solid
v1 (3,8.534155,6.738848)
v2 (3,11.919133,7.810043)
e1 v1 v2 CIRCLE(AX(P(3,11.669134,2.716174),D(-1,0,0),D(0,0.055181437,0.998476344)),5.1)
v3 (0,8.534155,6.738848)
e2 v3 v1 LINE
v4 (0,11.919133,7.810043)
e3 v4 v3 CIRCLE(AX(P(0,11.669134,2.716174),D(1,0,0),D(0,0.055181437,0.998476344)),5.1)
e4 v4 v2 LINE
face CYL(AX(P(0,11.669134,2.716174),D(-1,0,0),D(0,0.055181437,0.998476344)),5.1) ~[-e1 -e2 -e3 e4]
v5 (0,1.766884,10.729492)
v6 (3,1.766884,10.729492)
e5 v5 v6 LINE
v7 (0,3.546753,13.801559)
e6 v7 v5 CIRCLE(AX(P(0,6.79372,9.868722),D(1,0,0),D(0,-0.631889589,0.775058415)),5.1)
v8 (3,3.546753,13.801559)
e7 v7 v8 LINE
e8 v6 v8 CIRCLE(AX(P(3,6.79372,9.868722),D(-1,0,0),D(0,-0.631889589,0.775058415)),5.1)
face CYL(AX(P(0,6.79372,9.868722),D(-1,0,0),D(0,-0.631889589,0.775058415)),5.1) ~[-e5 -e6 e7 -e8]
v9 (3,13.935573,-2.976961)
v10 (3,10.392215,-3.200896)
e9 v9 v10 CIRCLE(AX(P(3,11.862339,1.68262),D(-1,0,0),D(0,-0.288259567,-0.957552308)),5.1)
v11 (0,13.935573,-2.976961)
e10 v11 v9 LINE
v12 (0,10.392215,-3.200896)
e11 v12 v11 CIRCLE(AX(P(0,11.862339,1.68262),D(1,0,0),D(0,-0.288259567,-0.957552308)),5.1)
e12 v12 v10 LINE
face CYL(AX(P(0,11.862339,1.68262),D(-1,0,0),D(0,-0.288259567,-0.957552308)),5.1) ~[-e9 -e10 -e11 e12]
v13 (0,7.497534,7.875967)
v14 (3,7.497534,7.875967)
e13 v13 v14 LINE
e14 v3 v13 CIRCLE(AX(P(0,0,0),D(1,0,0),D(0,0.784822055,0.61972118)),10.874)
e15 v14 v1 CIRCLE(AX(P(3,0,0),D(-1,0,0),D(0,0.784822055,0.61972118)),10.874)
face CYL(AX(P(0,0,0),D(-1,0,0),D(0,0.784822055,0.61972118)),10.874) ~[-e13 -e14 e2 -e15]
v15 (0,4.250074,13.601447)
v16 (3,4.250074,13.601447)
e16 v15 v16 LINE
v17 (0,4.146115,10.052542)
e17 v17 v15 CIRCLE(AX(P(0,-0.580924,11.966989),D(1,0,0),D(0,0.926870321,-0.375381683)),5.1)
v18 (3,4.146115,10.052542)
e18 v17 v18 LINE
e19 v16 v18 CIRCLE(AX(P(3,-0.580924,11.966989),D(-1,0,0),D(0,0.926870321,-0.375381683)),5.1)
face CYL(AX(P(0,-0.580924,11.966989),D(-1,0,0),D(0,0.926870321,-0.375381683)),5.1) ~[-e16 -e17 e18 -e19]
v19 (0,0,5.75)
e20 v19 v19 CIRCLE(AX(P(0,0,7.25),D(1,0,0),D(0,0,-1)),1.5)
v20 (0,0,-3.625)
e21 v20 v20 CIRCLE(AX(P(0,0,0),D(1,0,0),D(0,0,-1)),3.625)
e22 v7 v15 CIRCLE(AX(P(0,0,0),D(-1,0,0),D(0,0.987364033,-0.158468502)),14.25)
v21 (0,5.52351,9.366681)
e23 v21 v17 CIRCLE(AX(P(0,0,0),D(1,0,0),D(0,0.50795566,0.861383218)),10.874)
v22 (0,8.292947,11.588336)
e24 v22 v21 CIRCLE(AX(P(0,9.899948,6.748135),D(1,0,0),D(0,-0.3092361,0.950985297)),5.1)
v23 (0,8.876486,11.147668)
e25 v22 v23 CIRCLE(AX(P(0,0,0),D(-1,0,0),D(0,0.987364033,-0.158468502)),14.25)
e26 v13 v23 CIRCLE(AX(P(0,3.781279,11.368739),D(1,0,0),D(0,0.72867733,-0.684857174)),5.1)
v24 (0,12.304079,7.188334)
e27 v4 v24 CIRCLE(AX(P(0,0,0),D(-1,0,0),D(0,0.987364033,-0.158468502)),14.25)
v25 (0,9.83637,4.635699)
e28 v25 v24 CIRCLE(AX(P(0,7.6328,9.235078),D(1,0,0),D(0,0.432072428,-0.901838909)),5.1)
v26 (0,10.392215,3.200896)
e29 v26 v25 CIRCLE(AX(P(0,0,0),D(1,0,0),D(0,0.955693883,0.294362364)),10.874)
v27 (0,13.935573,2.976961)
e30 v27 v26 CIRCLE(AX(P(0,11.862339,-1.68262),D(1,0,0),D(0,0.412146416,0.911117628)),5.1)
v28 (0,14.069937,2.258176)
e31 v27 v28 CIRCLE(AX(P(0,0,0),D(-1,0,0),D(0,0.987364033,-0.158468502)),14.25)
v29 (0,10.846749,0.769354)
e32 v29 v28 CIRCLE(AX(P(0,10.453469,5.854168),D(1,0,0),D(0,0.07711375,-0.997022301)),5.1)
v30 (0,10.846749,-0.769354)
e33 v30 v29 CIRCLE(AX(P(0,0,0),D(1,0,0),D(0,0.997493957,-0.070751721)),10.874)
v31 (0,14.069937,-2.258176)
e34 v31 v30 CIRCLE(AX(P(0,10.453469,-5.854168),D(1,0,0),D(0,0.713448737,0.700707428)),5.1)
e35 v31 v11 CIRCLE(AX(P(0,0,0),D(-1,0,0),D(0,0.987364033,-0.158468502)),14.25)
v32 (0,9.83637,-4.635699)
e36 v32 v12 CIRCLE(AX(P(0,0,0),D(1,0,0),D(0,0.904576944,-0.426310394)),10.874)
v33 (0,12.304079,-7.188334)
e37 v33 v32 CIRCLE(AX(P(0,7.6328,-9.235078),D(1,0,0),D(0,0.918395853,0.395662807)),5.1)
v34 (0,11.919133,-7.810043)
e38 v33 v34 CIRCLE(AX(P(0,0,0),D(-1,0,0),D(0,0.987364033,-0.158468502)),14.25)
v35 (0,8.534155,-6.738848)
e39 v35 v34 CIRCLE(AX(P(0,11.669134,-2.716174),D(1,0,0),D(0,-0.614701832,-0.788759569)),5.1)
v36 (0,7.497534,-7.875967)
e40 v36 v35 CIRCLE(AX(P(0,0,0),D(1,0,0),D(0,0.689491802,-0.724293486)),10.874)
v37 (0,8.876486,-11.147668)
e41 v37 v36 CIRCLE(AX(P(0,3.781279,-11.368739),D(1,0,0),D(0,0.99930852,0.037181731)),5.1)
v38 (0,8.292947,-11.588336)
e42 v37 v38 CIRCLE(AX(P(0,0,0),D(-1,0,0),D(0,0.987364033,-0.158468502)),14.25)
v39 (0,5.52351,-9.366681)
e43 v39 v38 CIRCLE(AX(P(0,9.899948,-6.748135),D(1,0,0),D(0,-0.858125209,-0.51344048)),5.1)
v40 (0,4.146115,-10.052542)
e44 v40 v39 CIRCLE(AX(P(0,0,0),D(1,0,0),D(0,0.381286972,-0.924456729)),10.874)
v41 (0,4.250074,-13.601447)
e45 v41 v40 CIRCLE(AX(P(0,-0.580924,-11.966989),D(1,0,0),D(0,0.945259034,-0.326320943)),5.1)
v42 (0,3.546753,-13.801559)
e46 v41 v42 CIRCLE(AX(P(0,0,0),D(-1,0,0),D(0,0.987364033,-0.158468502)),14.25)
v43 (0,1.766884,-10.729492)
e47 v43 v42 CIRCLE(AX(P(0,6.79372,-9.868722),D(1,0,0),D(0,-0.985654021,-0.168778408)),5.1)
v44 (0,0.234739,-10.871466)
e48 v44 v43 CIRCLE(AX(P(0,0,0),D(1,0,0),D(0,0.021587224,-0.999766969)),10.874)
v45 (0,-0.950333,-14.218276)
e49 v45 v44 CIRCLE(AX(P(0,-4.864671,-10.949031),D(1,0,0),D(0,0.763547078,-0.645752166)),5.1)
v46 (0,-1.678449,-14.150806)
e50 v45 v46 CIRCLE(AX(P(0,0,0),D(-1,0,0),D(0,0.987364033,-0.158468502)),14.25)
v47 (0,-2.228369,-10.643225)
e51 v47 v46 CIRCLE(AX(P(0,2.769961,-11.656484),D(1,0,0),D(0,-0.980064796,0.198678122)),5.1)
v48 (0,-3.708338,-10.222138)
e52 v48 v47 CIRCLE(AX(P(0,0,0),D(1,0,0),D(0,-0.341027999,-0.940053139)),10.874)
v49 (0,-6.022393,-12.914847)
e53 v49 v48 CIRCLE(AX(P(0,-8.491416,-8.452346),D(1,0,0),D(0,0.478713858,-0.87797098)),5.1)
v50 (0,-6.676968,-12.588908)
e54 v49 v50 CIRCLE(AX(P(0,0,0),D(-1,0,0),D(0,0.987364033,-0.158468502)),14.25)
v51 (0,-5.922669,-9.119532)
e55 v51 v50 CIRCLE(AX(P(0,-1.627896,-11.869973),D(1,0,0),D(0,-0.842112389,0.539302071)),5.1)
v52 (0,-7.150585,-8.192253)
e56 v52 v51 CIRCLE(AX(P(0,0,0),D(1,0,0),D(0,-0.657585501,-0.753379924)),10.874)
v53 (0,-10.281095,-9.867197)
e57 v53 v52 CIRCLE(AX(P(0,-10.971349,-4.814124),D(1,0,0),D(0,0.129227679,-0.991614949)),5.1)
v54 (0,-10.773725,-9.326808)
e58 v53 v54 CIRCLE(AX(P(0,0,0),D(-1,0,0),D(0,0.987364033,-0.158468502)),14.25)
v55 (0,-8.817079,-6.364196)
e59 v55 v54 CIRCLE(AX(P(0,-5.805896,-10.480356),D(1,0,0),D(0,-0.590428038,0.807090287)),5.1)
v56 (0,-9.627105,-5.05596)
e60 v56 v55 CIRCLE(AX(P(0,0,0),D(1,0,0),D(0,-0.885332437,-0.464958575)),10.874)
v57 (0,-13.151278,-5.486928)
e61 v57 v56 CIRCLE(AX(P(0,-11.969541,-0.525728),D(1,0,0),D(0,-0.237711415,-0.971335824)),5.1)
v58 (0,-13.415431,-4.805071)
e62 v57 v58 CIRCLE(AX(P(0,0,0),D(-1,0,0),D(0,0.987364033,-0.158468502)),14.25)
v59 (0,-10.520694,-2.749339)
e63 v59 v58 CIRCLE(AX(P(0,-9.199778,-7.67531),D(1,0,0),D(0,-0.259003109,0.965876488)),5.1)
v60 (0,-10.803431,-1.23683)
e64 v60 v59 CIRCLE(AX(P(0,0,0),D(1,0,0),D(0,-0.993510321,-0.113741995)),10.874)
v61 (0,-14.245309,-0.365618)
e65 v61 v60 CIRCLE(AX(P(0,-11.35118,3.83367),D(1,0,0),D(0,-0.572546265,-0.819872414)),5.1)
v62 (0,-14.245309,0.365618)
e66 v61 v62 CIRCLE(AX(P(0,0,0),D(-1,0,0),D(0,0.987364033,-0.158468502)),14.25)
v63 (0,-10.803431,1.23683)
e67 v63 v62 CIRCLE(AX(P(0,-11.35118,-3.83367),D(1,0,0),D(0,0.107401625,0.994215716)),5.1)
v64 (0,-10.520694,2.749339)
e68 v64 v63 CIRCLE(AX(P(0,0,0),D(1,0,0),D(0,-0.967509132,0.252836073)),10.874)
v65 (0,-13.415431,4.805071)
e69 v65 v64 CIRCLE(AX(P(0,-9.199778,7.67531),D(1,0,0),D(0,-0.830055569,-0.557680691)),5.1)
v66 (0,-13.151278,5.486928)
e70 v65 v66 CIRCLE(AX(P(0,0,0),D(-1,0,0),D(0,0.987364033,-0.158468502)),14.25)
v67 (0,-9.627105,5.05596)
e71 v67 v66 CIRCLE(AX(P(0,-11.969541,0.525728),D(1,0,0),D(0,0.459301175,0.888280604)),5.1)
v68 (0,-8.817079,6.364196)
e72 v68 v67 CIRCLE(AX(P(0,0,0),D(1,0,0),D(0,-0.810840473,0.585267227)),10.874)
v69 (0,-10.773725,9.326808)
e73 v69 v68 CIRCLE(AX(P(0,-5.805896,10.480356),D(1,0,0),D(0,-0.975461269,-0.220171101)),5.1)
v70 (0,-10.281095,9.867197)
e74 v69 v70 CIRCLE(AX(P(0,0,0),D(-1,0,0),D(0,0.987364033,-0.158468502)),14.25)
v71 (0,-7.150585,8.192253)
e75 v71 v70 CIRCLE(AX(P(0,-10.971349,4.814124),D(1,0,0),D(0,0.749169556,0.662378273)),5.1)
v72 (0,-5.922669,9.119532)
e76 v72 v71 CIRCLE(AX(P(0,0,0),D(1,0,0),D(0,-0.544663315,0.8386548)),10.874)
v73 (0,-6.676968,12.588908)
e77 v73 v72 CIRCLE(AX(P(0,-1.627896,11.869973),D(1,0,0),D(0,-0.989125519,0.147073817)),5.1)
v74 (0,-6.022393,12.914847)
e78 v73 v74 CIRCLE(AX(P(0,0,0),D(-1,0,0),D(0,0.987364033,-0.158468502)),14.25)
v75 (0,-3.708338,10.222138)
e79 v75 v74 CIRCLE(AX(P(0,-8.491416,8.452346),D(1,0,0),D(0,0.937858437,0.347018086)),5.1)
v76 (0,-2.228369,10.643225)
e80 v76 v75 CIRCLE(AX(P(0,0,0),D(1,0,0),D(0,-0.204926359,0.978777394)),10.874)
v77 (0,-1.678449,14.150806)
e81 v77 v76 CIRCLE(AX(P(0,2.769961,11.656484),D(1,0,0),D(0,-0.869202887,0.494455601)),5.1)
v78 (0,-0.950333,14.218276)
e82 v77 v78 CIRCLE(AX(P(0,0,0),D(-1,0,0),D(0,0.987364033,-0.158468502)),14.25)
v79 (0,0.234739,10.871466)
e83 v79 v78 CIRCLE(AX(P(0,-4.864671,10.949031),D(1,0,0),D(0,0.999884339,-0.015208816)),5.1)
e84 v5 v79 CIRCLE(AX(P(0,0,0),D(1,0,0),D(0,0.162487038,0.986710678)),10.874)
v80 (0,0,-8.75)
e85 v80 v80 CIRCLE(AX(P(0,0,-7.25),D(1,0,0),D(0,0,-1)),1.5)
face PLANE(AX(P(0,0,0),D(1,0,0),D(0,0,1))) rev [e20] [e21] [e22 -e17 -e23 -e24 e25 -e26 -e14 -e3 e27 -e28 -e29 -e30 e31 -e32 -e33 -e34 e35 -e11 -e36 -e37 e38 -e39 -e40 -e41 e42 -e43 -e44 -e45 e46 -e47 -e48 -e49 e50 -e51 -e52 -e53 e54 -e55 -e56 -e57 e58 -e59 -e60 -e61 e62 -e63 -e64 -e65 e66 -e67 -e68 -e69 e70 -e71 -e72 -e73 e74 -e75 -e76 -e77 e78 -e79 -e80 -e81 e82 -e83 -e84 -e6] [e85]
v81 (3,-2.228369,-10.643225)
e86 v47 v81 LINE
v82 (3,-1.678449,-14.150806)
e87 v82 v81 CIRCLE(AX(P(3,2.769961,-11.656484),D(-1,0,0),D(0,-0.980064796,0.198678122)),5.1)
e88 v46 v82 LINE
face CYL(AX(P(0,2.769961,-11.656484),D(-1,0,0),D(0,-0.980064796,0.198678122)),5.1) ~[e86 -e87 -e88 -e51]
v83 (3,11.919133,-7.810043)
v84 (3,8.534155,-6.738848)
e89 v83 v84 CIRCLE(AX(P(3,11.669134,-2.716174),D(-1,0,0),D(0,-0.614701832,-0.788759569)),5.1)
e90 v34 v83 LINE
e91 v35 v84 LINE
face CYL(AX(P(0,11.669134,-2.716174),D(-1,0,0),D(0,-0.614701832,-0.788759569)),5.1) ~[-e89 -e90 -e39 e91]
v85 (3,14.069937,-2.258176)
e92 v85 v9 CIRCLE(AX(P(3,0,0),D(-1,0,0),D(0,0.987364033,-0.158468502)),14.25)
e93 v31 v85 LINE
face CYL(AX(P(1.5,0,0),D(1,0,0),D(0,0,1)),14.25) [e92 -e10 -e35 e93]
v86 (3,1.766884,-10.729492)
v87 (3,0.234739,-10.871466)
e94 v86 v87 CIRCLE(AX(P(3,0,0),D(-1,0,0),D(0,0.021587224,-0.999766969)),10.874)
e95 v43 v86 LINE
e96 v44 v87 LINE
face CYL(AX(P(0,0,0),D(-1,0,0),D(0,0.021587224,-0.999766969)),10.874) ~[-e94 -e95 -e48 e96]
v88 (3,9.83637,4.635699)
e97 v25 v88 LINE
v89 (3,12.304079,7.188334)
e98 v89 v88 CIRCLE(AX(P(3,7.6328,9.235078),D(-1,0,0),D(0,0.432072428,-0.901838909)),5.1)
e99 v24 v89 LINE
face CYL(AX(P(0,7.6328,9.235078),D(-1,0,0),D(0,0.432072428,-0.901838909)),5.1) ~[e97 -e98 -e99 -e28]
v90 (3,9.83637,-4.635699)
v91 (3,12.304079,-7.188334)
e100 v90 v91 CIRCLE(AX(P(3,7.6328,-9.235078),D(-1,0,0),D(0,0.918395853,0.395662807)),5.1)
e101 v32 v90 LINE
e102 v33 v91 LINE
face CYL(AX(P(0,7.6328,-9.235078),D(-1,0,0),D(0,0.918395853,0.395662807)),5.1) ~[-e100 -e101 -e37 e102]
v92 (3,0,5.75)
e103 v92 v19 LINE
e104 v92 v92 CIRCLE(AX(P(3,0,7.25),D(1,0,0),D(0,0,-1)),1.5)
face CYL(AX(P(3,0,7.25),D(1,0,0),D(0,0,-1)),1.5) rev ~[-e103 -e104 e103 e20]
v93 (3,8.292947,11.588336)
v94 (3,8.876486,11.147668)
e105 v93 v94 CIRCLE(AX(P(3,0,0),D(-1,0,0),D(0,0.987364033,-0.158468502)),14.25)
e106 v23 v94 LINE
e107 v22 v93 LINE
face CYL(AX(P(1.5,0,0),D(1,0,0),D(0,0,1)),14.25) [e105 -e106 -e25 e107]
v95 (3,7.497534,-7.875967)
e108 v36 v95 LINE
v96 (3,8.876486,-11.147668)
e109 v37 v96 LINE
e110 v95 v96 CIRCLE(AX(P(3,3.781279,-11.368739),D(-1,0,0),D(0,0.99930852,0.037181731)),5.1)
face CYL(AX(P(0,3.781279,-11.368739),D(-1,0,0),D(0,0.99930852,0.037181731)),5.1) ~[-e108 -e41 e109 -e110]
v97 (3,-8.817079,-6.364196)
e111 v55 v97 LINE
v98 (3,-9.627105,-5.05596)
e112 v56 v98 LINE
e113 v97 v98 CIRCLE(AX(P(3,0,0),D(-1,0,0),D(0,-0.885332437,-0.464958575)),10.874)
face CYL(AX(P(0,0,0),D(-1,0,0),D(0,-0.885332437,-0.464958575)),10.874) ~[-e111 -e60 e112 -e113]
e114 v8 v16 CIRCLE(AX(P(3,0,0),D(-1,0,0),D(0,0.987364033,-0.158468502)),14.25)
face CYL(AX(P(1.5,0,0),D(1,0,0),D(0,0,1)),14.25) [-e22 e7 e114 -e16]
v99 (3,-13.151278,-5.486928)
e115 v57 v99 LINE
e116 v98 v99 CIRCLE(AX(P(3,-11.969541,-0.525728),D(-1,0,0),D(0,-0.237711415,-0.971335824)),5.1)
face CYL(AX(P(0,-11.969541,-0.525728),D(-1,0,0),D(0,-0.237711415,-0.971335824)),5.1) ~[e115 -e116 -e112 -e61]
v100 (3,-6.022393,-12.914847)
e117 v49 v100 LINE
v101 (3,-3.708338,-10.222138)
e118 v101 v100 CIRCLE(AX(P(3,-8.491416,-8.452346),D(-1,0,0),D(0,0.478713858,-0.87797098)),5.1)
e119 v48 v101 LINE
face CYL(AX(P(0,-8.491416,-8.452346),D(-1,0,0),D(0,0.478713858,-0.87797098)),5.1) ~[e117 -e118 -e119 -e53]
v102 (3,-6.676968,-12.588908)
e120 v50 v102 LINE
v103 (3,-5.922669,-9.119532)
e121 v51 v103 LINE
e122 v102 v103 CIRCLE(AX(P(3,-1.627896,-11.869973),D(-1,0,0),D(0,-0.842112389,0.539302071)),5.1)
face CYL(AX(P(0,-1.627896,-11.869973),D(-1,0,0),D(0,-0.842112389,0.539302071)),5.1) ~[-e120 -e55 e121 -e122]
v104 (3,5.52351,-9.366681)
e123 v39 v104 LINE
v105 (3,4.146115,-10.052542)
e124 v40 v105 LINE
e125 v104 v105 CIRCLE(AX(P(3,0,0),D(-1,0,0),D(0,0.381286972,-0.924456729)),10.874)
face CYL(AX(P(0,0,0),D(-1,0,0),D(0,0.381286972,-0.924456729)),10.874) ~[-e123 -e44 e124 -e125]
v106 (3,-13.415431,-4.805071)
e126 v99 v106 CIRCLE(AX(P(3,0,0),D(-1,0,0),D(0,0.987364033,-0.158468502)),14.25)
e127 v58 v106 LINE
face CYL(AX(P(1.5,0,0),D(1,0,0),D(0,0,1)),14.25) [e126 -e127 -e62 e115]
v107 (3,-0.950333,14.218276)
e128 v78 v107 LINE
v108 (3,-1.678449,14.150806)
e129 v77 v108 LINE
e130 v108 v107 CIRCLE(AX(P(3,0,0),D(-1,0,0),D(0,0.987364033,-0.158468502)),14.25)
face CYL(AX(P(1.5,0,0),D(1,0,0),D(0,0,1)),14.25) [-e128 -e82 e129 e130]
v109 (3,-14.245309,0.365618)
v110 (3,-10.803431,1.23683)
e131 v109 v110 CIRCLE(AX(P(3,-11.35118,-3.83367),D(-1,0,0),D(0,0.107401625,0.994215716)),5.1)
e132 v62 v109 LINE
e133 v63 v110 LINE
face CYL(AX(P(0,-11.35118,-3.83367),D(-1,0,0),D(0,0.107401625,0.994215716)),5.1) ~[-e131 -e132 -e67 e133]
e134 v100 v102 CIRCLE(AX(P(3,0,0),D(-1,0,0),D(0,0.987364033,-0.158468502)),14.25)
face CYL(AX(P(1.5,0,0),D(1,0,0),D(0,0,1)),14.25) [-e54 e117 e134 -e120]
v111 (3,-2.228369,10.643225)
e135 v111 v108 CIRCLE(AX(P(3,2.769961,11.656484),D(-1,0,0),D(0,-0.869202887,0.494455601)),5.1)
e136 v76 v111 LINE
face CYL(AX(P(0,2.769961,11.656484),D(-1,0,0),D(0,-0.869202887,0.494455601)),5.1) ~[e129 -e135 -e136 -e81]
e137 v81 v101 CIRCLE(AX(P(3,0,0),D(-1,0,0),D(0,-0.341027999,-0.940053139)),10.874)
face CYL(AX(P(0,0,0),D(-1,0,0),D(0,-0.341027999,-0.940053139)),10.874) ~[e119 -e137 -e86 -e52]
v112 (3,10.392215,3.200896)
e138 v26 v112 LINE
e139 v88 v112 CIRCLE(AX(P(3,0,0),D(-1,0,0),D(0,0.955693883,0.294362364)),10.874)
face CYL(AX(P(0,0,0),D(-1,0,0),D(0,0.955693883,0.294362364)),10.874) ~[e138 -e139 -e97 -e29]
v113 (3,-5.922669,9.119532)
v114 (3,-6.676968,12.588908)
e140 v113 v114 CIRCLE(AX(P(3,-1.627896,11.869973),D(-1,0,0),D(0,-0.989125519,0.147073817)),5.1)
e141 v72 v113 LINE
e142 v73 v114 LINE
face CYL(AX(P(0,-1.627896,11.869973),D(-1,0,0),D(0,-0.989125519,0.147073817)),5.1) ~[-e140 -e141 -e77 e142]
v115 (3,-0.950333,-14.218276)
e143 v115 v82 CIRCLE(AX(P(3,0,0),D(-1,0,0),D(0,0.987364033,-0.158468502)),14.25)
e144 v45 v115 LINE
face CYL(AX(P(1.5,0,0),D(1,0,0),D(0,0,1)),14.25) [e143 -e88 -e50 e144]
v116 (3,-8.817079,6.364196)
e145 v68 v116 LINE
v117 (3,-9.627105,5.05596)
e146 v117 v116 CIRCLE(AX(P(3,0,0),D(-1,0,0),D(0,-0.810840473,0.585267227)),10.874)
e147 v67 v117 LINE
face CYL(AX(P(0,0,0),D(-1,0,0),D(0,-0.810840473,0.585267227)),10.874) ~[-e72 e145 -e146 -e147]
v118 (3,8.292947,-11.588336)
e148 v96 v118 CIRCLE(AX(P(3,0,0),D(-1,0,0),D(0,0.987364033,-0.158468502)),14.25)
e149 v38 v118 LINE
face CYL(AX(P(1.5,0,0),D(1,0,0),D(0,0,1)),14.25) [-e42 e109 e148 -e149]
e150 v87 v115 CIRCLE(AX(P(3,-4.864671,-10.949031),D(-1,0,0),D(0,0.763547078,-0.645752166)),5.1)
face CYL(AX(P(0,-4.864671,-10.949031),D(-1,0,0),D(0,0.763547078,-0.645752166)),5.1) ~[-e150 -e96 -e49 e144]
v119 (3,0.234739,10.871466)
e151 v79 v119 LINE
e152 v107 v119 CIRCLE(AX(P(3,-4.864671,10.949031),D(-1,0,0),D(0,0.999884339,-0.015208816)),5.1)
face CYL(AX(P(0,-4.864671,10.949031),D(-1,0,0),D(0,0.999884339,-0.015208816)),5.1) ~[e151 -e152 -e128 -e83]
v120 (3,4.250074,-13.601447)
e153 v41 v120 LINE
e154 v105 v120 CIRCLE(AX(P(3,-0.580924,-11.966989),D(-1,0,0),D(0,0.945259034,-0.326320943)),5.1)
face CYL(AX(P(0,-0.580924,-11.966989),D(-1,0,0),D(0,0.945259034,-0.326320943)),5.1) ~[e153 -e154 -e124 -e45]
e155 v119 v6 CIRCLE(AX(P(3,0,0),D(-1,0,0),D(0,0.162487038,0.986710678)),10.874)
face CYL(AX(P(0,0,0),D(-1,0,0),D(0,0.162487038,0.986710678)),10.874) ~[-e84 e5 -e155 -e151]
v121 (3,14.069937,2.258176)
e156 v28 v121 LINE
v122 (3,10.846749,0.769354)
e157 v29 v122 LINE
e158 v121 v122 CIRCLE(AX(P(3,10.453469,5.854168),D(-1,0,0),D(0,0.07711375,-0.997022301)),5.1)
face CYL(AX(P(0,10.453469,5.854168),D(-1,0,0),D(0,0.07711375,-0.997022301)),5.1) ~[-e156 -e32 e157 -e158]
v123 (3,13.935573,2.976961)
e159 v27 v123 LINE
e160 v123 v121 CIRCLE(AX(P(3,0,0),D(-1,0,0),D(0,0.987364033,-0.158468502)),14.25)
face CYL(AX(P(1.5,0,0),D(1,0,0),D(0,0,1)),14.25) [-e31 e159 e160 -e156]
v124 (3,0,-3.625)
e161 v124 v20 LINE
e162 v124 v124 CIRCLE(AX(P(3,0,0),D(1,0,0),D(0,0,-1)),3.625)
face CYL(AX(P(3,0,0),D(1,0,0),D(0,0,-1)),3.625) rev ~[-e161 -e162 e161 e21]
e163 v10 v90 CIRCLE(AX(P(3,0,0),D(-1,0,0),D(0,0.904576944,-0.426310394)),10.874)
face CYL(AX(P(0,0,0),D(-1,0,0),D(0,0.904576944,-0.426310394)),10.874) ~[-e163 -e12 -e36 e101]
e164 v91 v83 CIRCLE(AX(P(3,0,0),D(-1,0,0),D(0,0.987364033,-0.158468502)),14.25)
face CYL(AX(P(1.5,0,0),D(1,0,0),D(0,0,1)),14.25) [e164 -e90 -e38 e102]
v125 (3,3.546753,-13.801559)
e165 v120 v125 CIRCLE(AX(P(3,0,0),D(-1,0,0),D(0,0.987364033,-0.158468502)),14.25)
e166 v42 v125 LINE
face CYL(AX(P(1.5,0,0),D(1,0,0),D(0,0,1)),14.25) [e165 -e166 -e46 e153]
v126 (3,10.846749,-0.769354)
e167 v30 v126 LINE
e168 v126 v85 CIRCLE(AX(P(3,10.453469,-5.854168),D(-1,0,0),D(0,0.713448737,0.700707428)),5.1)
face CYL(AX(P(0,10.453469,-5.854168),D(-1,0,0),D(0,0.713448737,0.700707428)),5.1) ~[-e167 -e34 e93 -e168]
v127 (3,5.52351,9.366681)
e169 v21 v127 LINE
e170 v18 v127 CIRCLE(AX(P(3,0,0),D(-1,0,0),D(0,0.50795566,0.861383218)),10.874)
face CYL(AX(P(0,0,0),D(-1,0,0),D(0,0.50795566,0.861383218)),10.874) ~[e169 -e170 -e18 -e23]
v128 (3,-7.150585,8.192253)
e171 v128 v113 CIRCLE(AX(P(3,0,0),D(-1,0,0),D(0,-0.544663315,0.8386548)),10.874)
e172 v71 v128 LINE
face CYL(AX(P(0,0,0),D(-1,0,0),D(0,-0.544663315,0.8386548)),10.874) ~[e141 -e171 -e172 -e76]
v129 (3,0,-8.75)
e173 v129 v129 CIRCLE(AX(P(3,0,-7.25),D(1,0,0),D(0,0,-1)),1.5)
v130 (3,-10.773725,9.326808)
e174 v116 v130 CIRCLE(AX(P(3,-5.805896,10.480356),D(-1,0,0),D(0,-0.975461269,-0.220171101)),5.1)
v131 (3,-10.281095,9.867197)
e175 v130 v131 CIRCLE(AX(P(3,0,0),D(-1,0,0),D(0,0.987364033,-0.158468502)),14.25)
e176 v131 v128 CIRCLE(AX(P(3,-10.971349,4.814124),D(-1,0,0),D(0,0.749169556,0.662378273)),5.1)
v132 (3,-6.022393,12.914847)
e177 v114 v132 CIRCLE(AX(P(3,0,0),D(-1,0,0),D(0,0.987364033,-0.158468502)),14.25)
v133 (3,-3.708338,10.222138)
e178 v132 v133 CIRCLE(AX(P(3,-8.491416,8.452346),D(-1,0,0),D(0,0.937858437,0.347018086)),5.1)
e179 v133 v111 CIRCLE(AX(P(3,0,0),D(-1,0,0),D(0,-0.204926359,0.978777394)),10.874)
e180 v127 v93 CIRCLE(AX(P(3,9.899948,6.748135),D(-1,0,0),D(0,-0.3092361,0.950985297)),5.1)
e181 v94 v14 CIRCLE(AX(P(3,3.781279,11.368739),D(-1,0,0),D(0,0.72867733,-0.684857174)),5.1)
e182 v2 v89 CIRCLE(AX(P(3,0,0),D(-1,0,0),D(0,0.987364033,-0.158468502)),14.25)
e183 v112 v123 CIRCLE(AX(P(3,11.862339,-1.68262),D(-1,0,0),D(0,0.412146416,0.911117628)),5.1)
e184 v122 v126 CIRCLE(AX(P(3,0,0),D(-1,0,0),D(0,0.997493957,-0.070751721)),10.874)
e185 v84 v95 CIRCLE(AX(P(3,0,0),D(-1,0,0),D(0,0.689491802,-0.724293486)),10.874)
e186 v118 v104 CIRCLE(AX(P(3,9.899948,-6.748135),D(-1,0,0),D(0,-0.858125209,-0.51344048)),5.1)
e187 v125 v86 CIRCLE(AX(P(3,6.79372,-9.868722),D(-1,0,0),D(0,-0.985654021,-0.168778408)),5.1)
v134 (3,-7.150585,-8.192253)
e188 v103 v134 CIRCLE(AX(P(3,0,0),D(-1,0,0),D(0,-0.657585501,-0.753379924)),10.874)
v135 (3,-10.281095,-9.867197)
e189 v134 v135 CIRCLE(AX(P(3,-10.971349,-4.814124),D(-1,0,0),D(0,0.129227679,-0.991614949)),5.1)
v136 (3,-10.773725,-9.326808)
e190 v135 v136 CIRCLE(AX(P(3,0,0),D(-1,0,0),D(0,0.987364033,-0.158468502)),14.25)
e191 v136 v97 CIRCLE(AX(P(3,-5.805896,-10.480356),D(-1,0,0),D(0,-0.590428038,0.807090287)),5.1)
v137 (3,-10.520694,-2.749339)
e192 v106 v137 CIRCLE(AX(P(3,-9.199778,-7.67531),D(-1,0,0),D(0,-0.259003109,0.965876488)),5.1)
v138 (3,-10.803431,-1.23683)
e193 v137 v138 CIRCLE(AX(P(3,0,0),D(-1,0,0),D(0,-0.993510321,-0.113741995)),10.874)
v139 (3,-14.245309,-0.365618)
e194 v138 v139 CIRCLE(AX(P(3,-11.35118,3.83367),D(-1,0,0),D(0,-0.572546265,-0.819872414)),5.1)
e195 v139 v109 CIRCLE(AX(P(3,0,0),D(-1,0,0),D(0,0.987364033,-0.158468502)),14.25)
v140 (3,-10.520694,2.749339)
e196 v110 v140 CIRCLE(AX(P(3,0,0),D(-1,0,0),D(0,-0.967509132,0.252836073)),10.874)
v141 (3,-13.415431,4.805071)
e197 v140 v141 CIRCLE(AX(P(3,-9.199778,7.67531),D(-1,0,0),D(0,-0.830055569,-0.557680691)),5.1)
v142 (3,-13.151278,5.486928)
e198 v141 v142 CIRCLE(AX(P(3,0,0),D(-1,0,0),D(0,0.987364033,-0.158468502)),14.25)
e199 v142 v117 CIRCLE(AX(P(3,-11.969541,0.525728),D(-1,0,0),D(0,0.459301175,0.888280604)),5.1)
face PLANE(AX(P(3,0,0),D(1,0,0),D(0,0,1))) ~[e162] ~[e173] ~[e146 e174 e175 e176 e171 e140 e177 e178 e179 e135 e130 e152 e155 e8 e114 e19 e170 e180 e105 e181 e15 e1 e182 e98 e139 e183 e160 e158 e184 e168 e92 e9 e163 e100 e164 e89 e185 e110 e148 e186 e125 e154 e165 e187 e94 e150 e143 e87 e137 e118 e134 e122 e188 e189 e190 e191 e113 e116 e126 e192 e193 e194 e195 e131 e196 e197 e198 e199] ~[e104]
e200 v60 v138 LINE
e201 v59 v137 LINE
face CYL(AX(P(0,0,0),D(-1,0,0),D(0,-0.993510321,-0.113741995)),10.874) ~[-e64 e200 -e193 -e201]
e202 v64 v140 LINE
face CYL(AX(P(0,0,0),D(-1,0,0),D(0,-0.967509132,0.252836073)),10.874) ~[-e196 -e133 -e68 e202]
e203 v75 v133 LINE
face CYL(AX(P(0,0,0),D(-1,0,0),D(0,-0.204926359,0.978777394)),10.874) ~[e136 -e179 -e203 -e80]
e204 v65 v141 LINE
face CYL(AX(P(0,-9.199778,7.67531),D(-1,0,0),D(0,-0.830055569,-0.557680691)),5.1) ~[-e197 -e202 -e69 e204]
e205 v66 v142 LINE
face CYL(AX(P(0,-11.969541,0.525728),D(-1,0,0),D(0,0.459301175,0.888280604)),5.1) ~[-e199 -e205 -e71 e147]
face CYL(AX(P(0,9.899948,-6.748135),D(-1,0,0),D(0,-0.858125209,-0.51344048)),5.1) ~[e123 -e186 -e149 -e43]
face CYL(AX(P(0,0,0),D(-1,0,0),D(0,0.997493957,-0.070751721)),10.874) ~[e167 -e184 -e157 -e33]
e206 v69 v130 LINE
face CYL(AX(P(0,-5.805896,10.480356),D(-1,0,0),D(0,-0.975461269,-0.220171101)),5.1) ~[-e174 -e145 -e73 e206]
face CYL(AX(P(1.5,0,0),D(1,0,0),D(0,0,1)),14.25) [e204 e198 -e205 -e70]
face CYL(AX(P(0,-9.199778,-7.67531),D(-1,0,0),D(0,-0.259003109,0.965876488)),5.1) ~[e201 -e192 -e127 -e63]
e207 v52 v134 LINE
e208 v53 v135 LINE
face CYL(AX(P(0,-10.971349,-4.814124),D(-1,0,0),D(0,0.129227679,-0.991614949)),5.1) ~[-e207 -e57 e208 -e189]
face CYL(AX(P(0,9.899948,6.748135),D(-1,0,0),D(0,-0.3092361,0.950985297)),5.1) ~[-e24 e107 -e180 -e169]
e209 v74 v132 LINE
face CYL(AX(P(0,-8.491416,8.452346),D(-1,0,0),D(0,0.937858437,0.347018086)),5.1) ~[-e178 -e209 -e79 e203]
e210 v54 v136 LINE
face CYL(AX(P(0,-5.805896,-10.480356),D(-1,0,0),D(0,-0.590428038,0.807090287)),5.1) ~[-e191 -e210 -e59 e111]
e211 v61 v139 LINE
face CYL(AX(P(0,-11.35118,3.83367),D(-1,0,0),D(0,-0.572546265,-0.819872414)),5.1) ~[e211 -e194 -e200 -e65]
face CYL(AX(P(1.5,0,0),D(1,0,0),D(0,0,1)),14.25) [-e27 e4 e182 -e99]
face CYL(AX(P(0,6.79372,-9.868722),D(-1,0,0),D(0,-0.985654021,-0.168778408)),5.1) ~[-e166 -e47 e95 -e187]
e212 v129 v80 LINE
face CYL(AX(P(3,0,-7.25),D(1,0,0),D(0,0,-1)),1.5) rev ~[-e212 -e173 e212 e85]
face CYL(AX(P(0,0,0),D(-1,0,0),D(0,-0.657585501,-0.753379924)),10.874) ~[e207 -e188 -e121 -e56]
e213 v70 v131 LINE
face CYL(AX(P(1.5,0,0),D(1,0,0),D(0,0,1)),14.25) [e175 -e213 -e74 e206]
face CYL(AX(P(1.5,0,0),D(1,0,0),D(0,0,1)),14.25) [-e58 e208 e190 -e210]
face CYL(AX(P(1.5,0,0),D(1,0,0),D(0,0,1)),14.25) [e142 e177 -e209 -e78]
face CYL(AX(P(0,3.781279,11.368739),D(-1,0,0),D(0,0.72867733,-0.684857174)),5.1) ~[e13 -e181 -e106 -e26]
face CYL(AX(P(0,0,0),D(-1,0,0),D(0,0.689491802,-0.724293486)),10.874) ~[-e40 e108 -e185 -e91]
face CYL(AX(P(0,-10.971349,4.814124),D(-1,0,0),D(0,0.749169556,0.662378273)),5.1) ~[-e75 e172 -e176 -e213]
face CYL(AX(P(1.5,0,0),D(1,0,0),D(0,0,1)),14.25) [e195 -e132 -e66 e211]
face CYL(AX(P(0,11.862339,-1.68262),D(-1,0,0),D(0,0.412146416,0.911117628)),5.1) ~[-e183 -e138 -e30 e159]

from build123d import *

# Parameters (mm, degrees)
BASPROSKE_W           = 3
BASPROSKE_H           = 14.25
TOOTHCUT_DEPTH        = 21.374616561
TEETHCUTS_COUNT       = 17
TEETHCUTS_ANGLE       = 338.823529412
BORSKE_R              = 2.5
BORE_DEPTH            = 50.0000508
CROQUIS1_R            = 1.5
CROQUIS1_R_2          = 3.625
CORTAR_EXTRUIR1_DEPTH = 10


with BuildPart() as part:
    # BasProSke → Base-Revolve (revolve)
    with BuildSketch(Plane(origin=(0, 0, 0), x_dir=(1, 0, 0), z_dir=(0, 1, 0)), mode=Mode.PRIVATE) as base_revolve_sk:
        with Locations((1.5, 7.125)):
            Rectangle(BASPROSKE_W, BASPROSKE_H)
    revolve(base_revolve_sk.sketch.rotate(Axis((-10, 0, 0), (1, 0, 0)), 180), axis=Axis((-10, 0, 0), (1, 0, 0)))

    # TooCutSke → ToothCut (cut, through all)
    with BuildSketch(Plane(origin=(0, 0, 0), x_dir=(0, 0, -1), z_dir=(1, 0, 0))):
        with BuildLine():
            ThreePointArc((0.769354207, 10.846749287), (0, 10.874), (-0.769354207, 10.846749287))
            ThreePointArc((-0.769354207, 10.846749287), (-1.230849554, 12.606357238), (-2.280560064, 14.092057726))
            ThreePointArc((-2.280560064, 14.092057726), (0, 14.2754), (2.280560064, 14.092057726))
            ThreePointArc((2.280560064, 14.092057726), (1.230849554, 12.606357238), (0.769354207, 10.846749287))
        make_face()
    toothcut = extrude(amount=TOOTHCUT_DEPTH, mode=Mode.SUBTRACT)

    # TeethCuts: ToothCut ×17 about axis
    teethcuts_axis = Axis((-10, 0, 0), (1, 0, 0))
    for i in range(1, TEETHCUTS_COUNT):
        add(toothcut.rotate(teethcuts_axis, i * TEETHCUTS_ANGLE / (TEETHCUTS_COUNT - 1)), mode=Mode.SUBTRACT)

    # BorSke → Bore (cut, symmetric)
    with BuildSketch(Plane(origin=(0, 0, 0), x_dir=(0, 0, -1), z_dir=(1, 0, 0))):
        with Locations(Location((0, 0, 0), (0, 0, 180))):
            Circle(BORSKE_R)
    extrude(amount=BORE_DEPTH, both=True, mode=Mode.SUBTRACT)

    # Croquis1 → Cortar-Extruir1 (cut)
    with BuildSketch(Plane(origin=(3, 0, 0), x_dir=(0, 0, -1), z_dir=(1, 0, 0))):
        with Locations((7.25, 0)):
            Circle(CROQUIS1_R)
        Circle(CROQUIS1_R_2)
        with Locations((-7.25, 0)):
            Circle(CROQUIS1_R)
    extrude(amount=-CORTAR_EXTRUIR1_DEPTH, mode=Mode.SUBTRACT)


solid = part.part
